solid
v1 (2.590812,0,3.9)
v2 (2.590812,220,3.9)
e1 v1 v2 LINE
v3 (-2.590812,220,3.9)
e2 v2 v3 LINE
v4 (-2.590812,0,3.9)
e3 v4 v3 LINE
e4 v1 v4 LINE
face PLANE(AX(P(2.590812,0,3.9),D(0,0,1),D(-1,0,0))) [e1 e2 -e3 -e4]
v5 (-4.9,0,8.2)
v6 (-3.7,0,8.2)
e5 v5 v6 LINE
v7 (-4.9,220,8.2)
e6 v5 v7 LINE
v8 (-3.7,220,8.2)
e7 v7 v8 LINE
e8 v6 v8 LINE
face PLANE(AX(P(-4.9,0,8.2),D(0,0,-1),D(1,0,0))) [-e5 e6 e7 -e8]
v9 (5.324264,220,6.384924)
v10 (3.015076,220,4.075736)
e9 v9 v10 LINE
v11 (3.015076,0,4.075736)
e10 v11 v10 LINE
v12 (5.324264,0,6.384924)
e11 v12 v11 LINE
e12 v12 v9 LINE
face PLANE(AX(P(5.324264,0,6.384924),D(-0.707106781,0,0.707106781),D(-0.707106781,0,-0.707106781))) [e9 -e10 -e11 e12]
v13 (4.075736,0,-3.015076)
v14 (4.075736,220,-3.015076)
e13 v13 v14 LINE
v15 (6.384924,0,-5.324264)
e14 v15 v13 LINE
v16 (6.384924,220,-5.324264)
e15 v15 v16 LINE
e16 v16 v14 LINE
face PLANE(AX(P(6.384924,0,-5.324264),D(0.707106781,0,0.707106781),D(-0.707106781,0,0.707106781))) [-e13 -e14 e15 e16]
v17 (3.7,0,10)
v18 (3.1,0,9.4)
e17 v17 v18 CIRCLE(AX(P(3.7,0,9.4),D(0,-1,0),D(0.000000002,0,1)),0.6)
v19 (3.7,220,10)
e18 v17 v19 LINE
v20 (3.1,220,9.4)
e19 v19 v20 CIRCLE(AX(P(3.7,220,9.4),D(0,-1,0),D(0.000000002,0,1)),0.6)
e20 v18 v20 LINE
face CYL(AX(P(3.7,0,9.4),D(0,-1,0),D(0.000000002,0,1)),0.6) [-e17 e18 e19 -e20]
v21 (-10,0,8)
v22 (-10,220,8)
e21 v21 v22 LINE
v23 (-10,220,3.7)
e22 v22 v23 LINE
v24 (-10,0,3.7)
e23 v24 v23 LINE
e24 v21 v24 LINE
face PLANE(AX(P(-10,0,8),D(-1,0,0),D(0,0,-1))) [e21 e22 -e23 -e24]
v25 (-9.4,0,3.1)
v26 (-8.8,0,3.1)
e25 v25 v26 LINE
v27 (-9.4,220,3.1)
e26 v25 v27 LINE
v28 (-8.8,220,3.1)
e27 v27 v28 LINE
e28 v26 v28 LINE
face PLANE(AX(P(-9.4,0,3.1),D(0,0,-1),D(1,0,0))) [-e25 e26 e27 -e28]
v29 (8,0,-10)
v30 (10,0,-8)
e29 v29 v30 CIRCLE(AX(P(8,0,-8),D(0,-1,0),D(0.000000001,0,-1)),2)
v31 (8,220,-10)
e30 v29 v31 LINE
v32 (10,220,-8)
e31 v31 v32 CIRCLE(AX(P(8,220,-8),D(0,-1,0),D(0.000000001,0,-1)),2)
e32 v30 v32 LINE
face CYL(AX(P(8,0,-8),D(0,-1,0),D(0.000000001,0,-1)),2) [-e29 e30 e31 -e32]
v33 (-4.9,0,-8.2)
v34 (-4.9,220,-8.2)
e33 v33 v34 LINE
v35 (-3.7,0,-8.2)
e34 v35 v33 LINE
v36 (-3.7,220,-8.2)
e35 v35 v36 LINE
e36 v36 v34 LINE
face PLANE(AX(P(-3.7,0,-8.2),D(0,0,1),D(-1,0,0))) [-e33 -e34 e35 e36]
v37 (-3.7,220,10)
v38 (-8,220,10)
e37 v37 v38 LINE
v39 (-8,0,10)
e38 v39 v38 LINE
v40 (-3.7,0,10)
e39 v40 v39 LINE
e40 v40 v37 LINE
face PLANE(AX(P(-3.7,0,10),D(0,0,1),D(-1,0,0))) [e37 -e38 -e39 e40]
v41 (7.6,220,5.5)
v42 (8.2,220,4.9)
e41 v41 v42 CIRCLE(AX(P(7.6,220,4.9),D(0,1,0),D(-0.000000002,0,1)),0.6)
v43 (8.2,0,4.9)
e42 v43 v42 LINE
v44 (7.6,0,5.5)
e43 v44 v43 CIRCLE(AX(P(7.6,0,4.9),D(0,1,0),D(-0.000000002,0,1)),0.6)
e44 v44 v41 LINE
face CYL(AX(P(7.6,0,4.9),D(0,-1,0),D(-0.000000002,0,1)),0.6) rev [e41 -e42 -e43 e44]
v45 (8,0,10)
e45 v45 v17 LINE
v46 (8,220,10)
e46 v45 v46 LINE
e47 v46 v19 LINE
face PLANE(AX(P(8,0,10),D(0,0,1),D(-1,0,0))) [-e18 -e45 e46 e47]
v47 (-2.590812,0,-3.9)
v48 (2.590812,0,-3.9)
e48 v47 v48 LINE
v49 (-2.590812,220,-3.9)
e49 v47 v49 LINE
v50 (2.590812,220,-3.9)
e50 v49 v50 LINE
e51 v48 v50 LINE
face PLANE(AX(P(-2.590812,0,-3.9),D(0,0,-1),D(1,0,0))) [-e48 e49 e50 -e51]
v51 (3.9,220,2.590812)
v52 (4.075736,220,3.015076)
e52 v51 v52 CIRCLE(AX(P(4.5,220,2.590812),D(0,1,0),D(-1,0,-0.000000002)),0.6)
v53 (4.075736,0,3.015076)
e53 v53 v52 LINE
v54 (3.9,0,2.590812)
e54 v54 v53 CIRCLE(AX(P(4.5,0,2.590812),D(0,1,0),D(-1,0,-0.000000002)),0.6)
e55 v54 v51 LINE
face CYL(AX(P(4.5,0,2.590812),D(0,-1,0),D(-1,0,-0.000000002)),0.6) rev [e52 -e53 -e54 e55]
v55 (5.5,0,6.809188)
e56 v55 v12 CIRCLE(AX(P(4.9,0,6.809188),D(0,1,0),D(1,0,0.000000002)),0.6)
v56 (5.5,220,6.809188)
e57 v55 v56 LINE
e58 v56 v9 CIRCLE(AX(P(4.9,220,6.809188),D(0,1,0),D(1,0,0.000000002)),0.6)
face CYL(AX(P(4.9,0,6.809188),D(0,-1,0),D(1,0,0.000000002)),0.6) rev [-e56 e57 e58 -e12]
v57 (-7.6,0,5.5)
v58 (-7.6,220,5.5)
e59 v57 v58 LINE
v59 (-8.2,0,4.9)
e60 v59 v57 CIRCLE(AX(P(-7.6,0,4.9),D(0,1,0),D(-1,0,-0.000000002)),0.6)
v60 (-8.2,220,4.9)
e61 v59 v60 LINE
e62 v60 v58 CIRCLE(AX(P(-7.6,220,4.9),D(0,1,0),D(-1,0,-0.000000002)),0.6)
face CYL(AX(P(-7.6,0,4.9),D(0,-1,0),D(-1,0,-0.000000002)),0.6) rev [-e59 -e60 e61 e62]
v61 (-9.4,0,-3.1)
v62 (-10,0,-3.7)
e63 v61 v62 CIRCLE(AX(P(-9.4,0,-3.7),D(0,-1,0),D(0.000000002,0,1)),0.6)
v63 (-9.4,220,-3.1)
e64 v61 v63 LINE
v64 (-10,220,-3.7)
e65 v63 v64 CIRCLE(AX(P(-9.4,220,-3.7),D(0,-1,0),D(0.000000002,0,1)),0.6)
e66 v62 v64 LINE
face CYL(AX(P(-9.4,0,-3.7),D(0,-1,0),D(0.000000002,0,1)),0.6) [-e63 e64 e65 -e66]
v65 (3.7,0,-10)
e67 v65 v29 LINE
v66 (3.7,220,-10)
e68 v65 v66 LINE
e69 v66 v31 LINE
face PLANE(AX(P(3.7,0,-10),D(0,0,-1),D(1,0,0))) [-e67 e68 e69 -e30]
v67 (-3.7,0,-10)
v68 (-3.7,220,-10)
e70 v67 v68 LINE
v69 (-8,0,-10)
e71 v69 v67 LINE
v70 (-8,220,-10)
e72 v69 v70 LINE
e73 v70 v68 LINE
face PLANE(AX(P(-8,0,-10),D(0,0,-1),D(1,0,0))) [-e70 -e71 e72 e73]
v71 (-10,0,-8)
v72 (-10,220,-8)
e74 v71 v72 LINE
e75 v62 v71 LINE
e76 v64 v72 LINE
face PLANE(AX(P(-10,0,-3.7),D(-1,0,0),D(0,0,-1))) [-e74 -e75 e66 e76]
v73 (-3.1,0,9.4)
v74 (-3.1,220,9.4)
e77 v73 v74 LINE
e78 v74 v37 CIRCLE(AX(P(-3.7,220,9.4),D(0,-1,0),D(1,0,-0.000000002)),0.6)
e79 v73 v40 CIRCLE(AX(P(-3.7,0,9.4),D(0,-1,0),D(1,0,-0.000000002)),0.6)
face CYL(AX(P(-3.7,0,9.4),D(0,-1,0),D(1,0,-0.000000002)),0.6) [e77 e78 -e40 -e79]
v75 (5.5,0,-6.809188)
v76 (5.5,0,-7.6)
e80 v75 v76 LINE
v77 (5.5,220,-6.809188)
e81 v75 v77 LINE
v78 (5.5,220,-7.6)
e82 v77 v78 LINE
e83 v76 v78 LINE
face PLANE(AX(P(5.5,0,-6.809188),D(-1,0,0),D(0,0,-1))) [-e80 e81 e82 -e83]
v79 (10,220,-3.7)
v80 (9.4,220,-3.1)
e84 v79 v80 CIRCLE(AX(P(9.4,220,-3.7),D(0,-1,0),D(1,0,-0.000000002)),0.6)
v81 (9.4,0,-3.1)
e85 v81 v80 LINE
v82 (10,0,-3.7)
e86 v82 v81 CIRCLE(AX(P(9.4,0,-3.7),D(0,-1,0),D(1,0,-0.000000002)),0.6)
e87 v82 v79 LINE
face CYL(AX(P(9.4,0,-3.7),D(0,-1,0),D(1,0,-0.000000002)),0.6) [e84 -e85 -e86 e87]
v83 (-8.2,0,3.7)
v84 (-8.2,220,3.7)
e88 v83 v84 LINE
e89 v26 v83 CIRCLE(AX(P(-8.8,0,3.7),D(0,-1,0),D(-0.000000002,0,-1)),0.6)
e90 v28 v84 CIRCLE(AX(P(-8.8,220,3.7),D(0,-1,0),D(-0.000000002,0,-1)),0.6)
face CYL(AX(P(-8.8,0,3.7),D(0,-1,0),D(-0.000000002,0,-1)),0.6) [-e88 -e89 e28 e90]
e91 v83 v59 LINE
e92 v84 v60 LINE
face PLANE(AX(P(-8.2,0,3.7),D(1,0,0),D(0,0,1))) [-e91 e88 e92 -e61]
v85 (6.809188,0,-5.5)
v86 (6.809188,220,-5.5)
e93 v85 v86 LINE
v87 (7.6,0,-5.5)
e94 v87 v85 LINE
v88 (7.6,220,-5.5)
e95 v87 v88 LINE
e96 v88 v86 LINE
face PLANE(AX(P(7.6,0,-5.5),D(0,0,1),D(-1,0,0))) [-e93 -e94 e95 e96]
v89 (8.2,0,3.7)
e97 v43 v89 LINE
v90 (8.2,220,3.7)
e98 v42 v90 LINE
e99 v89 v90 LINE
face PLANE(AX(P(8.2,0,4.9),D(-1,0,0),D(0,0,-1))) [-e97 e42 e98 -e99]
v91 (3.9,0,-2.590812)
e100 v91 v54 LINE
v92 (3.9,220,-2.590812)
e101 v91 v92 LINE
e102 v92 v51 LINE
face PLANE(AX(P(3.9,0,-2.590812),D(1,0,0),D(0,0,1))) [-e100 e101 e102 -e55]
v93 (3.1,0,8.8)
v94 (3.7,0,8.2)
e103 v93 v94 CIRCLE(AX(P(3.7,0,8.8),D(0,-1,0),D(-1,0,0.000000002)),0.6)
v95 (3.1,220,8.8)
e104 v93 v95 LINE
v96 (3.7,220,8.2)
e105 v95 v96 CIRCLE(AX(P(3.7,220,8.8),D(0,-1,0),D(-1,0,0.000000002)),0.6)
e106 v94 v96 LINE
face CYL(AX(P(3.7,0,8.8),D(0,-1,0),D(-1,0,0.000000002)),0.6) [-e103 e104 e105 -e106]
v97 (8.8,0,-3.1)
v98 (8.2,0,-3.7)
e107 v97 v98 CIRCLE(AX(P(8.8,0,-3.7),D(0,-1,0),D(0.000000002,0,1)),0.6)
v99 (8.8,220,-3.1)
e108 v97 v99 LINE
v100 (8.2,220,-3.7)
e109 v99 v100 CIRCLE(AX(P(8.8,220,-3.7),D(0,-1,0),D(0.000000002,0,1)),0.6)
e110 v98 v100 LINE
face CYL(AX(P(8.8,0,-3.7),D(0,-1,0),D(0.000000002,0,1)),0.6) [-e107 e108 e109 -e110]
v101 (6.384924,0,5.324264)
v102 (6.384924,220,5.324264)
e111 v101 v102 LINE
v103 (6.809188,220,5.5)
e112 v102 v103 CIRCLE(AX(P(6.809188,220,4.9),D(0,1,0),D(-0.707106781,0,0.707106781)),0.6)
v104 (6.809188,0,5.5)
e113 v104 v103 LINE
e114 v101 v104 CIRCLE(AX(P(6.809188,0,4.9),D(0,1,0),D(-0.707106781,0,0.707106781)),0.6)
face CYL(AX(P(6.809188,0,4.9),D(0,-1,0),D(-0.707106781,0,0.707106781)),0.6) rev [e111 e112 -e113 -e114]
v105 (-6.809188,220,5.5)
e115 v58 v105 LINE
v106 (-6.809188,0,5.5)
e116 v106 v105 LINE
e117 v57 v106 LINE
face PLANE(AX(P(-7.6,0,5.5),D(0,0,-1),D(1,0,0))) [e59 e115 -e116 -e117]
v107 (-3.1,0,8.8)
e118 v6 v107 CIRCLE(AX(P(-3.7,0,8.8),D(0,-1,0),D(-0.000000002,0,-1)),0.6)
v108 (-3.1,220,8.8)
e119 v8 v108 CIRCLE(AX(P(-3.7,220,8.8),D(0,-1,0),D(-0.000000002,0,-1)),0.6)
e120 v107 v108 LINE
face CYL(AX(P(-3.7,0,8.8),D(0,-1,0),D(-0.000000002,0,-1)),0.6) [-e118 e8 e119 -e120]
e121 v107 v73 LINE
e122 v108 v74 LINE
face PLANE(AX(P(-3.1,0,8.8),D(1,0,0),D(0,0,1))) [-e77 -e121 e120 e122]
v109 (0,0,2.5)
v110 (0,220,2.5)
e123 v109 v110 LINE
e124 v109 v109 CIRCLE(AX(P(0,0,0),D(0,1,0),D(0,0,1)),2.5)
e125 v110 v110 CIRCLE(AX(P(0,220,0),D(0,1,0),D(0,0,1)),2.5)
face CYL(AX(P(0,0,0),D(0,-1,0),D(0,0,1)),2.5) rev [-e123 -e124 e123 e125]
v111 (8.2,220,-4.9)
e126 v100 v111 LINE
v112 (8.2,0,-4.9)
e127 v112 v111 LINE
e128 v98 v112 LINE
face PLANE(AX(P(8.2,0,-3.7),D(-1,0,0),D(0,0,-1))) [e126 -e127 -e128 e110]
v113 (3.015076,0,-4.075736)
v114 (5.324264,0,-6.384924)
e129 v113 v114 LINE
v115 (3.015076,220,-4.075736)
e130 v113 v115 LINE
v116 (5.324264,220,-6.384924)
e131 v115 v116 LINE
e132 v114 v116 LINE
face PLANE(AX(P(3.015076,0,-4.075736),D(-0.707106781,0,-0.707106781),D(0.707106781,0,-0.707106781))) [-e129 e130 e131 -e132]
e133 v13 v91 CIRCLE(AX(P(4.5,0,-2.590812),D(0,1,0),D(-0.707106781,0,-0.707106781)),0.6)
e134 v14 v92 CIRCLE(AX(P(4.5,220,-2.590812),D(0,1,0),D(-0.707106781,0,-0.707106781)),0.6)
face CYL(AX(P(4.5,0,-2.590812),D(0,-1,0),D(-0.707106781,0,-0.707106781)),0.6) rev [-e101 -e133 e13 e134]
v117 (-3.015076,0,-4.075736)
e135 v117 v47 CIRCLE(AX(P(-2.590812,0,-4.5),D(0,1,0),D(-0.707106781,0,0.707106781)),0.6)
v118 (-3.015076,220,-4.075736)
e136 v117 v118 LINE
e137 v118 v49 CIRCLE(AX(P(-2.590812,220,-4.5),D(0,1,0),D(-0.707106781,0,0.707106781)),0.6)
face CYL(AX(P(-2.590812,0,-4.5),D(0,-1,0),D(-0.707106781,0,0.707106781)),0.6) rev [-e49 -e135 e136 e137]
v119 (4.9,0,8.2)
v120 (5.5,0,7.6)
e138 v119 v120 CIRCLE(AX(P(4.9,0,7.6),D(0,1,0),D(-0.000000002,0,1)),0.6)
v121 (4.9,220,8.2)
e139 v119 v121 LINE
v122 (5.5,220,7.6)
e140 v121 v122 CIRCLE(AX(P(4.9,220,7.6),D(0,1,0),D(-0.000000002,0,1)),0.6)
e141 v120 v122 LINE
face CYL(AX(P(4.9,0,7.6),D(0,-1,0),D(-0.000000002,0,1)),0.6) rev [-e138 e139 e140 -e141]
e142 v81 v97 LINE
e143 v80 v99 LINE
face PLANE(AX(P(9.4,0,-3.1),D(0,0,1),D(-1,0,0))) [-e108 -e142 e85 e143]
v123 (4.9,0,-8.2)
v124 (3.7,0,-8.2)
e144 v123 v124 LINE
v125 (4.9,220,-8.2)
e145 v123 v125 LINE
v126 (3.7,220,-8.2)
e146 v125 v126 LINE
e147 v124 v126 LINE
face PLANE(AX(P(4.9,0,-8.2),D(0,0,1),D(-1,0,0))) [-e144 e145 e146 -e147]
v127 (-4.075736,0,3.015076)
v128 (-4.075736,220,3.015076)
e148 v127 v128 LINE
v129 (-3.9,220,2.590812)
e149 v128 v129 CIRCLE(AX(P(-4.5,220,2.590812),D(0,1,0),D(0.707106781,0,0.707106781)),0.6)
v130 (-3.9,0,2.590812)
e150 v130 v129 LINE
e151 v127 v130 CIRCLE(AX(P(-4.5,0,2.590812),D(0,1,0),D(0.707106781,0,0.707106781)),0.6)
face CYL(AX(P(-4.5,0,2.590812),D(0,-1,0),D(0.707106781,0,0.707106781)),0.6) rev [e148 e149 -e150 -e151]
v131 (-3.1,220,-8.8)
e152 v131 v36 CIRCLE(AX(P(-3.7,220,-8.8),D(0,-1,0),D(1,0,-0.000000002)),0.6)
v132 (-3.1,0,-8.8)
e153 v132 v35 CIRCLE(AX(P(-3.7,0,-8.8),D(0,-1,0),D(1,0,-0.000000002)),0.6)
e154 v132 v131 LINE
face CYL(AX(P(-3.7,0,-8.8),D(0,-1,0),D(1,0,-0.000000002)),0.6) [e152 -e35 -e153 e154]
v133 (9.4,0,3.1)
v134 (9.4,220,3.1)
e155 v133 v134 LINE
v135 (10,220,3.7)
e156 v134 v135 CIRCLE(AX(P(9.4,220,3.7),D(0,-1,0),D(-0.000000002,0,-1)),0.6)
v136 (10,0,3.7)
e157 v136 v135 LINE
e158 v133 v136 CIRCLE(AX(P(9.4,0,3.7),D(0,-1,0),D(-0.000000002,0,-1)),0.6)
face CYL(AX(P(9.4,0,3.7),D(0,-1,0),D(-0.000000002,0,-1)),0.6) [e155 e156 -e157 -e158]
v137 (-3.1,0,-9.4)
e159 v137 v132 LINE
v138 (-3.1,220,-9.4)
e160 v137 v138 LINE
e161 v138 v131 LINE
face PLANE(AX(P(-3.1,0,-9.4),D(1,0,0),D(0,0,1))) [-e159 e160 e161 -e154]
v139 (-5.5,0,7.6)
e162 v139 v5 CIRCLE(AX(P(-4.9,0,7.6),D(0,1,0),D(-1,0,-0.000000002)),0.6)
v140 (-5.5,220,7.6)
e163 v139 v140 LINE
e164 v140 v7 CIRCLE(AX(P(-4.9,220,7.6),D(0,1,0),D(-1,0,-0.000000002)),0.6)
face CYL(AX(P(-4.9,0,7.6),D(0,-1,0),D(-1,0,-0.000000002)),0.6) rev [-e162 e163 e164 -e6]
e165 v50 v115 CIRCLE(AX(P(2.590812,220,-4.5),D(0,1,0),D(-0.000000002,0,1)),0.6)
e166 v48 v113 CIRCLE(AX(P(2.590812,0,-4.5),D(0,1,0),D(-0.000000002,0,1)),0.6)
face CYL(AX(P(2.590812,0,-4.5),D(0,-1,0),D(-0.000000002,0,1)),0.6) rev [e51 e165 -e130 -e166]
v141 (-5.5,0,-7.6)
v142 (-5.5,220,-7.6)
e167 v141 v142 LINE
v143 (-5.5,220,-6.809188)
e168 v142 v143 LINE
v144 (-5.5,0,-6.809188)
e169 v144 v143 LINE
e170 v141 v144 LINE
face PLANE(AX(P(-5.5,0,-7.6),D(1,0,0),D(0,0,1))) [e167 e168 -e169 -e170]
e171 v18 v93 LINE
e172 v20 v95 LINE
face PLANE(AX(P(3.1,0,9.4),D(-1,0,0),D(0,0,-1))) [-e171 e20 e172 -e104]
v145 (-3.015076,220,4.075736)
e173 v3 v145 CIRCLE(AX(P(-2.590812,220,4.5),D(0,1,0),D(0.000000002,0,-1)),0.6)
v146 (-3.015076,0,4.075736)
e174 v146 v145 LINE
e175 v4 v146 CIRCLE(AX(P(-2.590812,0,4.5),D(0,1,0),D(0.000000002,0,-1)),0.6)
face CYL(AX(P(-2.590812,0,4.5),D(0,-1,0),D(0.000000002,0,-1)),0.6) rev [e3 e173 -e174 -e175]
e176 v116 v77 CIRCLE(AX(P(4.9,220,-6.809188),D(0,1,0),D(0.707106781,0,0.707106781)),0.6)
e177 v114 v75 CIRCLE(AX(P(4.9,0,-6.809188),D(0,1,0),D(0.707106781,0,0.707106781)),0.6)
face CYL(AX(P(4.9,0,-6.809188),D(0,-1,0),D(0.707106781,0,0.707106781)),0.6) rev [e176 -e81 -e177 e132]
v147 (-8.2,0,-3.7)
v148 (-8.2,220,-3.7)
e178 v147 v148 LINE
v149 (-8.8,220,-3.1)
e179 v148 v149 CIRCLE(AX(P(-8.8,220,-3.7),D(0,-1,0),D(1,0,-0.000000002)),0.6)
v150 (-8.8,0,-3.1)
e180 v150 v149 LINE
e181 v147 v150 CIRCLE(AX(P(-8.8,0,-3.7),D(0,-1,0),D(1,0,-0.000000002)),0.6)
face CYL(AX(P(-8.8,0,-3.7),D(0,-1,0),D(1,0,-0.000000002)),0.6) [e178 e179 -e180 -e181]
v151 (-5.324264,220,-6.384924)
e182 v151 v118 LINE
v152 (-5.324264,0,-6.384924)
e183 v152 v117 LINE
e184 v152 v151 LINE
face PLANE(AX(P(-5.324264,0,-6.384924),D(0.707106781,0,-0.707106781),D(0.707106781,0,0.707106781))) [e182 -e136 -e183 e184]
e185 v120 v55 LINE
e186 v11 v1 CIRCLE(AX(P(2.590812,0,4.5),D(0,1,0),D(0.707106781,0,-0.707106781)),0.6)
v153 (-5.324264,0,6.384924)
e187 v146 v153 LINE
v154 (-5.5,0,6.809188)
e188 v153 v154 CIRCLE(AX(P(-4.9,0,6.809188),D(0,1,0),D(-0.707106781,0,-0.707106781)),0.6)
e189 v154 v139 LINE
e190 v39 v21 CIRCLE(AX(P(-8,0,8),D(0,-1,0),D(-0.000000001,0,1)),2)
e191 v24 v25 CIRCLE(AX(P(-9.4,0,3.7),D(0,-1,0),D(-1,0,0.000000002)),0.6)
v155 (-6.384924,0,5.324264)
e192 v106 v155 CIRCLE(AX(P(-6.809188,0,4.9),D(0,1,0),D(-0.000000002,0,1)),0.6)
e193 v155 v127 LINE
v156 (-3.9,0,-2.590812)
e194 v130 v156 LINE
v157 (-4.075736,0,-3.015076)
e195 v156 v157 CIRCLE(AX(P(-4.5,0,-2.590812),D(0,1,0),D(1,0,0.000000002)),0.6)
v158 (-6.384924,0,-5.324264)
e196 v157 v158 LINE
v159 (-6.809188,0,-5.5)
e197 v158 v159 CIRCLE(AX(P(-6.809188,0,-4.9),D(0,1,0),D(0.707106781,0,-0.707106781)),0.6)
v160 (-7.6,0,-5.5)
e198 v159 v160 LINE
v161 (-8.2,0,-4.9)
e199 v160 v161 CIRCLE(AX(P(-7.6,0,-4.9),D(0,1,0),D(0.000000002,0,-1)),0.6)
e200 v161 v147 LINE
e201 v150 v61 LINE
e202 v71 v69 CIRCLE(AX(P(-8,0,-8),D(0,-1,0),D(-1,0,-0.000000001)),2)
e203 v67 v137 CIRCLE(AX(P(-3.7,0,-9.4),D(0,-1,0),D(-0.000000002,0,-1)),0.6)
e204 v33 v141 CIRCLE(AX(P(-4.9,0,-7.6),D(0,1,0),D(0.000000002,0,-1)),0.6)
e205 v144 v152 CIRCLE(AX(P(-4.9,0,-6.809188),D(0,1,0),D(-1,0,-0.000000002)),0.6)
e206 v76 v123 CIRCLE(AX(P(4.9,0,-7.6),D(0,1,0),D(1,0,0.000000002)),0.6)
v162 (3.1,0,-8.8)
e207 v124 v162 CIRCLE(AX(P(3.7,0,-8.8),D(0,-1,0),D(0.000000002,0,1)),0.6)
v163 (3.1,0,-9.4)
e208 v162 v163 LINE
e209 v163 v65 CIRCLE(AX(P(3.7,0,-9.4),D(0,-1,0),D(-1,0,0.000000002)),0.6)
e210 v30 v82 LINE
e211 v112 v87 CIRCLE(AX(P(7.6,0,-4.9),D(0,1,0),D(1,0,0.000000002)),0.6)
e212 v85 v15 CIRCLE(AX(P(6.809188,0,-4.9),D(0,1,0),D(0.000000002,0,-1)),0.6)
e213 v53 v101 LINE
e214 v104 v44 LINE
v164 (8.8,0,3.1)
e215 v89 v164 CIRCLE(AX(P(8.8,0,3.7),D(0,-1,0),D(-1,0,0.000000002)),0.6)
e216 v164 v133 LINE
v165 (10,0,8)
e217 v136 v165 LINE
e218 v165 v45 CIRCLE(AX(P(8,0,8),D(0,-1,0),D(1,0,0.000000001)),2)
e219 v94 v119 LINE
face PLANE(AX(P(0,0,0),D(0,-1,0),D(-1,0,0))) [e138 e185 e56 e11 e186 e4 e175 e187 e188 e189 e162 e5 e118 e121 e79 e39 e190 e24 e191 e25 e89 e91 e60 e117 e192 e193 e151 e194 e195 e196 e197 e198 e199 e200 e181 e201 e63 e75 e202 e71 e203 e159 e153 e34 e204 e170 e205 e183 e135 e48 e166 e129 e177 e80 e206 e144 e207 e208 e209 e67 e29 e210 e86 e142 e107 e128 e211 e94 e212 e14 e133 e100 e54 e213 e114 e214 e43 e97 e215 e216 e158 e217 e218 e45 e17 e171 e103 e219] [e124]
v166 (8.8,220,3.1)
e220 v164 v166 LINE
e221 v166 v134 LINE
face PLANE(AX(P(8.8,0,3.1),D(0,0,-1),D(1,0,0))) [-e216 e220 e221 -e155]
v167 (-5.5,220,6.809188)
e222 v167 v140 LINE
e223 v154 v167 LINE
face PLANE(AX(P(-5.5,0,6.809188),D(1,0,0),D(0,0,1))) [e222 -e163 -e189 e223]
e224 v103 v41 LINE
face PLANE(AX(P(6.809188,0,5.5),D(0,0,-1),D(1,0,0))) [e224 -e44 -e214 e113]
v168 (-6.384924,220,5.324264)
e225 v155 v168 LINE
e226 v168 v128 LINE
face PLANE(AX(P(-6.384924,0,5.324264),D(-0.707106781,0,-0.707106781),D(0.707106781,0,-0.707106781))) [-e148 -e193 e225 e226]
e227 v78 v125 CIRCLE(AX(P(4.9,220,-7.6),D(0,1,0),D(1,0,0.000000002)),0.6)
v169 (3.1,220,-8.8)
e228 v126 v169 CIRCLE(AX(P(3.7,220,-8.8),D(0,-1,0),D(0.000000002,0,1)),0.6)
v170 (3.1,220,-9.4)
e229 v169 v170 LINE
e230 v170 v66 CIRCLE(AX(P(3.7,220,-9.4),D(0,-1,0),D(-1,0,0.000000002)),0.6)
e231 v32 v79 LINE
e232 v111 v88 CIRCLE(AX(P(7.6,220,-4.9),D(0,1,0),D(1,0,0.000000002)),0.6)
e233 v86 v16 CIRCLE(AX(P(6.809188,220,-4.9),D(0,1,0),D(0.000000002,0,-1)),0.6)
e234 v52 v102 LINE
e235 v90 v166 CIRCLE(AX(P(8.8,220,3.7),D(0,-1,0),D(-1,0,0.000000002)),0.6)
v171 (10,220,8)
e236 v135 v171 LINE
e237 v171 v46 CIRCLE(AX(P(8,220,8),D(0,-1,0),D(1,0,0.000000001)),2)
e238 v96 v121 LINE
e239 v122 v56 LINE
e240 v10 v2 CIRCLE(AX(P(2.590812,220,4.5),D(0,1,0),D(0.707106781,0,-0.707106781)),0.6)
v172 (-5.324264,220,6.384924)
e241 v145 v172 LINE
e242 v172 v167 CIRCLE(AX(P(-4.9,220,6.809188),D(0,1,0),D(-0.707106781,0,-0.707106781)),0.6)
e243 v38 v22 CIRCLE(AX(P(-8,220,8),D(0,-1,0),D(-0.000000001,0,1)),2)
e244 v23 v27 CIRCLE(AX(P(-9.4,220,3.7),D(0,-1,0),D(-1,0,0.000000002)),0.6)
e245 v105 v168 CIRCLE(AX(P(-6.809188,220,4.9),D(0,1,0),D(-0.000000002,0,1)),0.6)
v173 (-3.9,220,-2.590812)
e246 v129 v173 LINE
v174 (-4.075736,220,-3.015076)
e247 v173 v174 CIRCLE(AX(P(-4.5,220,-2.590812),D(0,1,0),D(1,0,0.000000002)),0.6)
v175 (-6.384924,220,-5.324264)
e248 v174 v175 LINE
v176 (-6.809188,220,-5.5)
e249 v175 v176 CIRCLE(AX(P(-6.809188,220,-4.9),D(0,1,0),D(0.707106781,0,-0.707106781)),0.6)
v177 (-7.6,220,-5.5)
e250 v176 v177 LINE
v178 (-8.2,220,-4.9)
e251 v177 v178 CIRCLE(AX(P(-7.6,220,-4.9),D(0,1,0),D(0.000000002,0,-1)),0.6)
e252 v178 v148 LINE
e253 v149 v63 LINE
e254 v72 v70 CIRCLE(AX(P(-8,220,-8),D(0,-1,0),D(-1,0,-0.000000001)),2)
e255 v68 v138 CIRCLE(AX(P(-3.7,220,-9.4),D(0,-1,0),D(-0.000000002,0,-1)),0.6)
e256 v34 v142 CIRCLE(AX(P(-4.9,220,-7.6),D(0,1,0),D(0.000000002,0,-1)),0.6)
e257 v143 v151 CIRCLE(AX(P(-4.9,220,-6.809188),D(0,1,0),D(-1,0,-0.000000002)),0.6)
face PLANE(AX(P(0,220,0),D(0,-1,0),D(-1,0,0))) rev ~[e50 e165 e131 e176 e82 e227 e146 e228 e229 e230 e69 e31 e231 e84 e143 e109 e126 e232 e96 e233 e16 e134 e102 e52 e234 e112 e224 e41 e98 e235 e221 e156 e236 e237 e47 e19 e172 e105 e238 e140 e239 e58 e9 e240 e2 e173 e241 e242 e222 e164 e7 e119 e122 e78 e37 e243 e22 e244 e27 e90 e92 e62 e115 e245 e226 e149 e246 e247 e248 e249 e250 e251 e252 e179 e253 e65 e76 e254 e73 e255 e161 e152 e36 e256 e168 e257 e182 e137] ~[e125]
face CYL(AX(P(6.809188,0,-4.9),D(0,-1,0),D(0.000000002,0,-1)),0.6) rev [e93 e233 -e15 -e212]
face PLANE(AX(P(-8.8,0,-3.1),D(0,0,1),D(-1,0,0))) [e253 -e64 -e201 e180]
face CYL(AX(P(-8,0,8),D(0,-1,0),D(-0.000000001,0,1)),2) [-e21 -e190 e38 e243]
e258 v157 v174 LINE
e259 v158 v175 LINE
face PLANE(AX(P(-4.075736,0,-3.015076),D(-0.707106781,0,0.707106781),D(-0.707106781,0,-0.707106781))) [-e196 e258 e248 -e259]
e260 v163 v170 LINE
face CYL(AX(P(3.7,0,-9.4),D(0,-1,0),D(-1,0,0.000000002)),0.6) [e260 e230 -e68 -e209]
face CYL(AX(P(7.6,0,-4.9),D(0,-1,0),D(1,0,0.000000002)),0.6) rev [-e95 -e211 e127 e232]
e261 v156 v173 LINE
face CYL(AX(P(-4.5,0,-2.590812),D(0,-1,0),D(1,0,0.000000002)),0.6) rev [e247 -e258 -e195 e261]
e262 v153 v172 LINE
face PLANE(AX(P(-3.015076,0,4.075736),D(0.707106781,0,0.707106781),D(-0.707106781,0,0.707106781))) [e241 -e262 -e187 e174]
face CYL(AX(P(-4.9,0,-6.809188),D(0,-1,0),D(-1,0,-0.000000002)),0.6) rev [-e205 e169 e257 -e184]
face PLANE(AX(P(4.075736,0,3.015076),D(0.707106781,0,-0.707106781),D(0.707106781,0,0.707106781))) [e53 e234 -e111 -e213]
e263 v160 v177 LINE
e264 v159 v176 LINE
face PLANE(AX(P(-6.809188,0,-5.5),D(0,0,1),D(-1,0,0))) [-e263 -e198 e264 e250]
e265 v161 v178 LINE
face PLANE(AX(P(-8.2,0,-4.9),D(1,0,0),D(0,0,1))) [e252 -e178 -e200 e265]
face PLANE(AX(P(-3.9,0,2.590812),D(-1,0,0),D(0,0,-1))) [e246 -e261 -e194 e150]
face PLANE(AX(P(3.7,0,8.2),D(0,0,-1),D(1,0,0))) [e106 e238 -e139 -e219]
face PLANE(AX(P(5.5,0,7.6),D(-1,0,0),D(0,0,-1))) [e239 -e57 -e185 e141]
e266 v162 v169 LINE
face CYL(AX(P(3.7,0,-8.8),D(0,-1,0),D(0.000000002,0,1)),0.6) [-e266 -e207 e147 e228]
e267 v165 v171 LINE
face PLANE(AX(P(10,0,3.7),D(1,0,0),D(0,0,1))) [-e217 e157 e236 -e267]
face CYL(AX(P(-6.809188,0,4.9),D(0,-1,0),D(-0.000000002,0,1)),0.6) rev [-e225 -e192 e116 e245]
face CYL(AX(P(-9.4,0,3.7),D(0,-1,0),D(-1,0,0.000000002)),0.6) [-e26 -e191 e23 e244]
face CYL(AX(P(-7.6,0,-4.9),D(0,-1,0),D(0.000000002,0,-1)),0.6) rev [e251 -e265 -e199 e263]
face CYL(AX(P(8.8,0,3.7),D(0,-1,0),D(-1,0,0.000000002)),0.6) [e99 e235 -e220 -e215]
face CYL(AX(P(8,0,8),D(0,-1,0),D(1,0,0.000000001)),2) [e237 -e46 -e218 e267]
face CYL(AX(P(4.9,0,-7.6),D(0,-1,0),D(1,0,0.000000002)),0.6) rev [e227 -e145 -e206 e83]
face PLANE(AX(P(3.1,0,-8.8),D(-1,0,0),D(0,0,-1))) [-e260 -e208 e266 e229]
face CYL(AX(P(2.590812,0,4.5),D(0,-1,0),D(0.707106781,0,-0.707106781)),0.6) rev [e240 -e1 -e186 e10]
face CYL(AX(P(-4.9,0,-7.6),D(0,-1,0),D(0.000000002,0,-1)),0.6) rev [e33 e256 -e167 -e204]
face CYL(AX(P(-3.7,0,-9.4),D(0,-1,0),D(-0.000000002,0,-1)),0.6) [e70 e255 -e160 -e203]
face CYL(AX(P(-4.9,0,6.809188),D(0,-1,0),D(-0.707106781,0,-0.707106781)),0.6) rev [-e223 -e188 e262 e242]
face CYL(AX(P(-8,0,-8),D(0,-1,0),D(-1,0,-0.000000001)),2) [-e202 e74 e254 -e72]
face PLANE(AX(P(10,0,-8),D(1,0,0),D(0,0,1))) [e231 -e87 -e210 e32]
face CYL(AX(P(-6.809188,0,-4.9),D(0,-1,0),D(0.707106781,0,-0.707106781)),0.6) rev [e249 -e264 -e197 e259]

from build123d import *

# Parameters (mm, degrees)
SKETCH_1_R      = 2.5
EXTRUDE_1_DEPTH = 220


with BuildPart() as part:
    # 草图1 → 凸台-拉伸1 (new body)
    with BuildSketch(Plane(origin=(0, 0, 0), x_dir=(1, 0, 0), z_dir=(0, 1, 0))):
        with BuildLine():
            Line((3.1, 8.8), (3.1, 9.4))
            ThreePointArc((3.1, 9.4), (3.275735931, 9.824264069), (3.7, 10))
            Line((3.7, 10), (8, 10))
            ThreePointArc((8, 10), (9.414213562, 9.414213562), (10, 8))
            Line((10, 8), (10, 3.7))
            ThreePointArc((10, 3.7), (9.824264069, 3.275735931), (9.4, 3.1))
            Line((9.4, 3.1), (8.8, 3.1))
            ThreePointArc((8.8, 3.1), (8.375735931, 3.275735931), (8.2, 3.7))
            Line((8.2, 3.7), (8.2, 4.9))
            ThreePointArc((8.2, 4.9), (8.024264069, 5.324264069), (7.6, 5.5))
            Line((7.6, 5.5), (6.809188309, 5.5))
            ThreePointArc((6.809188309, 5.5), (6.57957825, 5.45432772), (6.38492424, 5.324264069))
            Line((6.38492424, 5.324264069), (4.075735931, 3.01507576))
            ThreePointArc((4.075735931, 3.01507576), (3.94567228, 2.82042175), (3.9, 2.590811691))
            Line((3.9, 2.590811691), (3.9, 0))
            Line((3.9, 0), (3.9, -2.590811691))
            ThreePointArc((3.9, -2.590811691), (3.94567228, -2.82042175), (4.075735931, -3.01507576))
            Line((4.075735931, -3.01507576), (6.38492424, -5.324264069))
            ThreePointArc((6.38492424, -5.324264069), (6.57957825, -5.45432772), (6.809188309, -5.5))
            Line((6.809188309, -5.5), (7.6, -5.5))
            ThreePointArc((7.6, -5.5), (8.024264069, -5.324264069), (8.2, -4.9))
            Line((8.2, -4.9), (8.2, -3.7))
            ThreePointArc((8.2, -3.7), (8.375735931, -3.275735931), (8.8, -3.1))
            Line((8.8, -3.1), (9.4, -3.1))
            ThreePointArc((9.4, -3.1), (9.824264069, -3.275735931), (10, -3.7))
            Line((10, -3.7), (10, -8))
            ThreePointArc((10, -8), (9.414213562, -9.414213562), (8, -10))
            Line((8, -10), (3.7, -10))
            ThreePointArc((3.7, -10), (3.275735931, -9.824264069), (3.1, -9.4))
            Line((3.1, -9.4), (3.1, -8.8))
            ThreePointArc((3.1, -8.8), (3.275735931, -8.375735931), (3.7, -8.2))
            Line((3.7, -8.2), (4.9, -8.2))
            ThreePointArc((4.9, -8.2), (5.324264069, -8.024264069), (5.5, -7.6))
            Line((5.5, -7.6), (5.5, -6.809188309))
            ThreePointArc((5.5, -6.809188309), (5.45432772, -6.57957825), (5.324264069, -6.38492424))
            Line((5.324264069, -6.38492424), (3.01507576, -4.075735931))
            ThreePointArc((3.01507576, -4.075735931), (2.82042175, -3.94567228), (2.590811691, -3.9))
            Line((2.590811691, -3.9), (0, -3.9))
            Line((0, -3.9), (-2.590811691, -3.9))
            ThreePointArc((-2.590811691, -3.9), (-2.82042175, -3.94567228), (-3.01507576, -4.075735931))
            Line((-3.01507576, -4.075735931), (-5.324264069, -6.38492424))
            ThreePointArc((-5.324264069, -6.38492424), (-5.45432772, -6.57957825), (-5.5, -6.809188309))
            Line((-5.5, -6.809188309), (-5.5, -7.6))
            ThreePointArc((-5.5, -7.6), (-5.324264069, -8.024264069), (-4.9, -8.2))
            Line((-4.9, -8.2), (-3.7, -8.2))
            ThreePointArc((-3.7, -8.2), (-3.275735931, -8.375735931), (-3.1, -8.8))
            Line((-3.1, -8.8), (-3.1, -9.4))
            ThreePointArc((-3.1, -9.4), (-3.275735931, -9.824264069), (-3.7, -10))
            Line((-3.7, -10), (-8, -10))
            ThreePointArc((-8, -10), (-9.414213562, -9.414213562), (-10, -8))
            Line((-10, -8), (-10, -3.7))
            ThreePointArc((-10, -3.7), (-9.824264069, -3.275735931), (-9.4, -3.1))
            Line((-9.4, -3.1), (-8.8, -3.1))
            ThreePointArc((-8.8, -3.1), (-8.375735931, -3.275735931), (-8.2, -3.7))
            Line((-8.2, -3.7), (-8.2, -4.9))
            ThreePointArc((-8.2, -4.9), (-8.024264069, -5.324264069), (-7.6, -5.5))
            Line((-7.6, -5.5), (-6.809188309, -5.5))
            ThreePointArc((-6.809188309, -5.5), (-6.57957825, -5.45432772), (-6.38492424, -5.324264069))
            Line((-6.38492424, -5.324264069), (-4.075735931, -3.01507576))
            ThreePointArc((-4.075735931, -3.01507576), (-3.94567228, -2.82042175), (-3.9, -2.590811691))
            Line((-3.9, -2.590811691), (-3.9, 0))
            Line((-3.9, 0), (-3.9, 2.590811691))
            ThreePointArc((-3.9, 2.590811691), (-3.94567228, 2.82042175), (-4.075735931, 3.01507576))
            Line((-4.075735931, 3.01507576), (-6.38492424, 5.324264069))
            ThreePointArc((-6.38492424, 5.324264069), (-6.57957825, 5.45432772), (-6.809188309, 5.5))
            Line((-6.809188309, 5.5), (-7.6, 5.5))
            ThreePointArc((-7.6, 5.5), (-8.024264069, 5.324264069), (-8.2, 4.9))
            Line((-8.2, 4.9), (-8.2, 3.7))
            ThreePointArc((-8.2, 3.7), (-8.375735931, 3.275735931), (-8.8, 3.1))
            Line((-8.8, 3.1), (-9.4, 3.1))
            ThreePointArc((-9.4, 3.1), (-9.824264069, 3.275735931), (-10, 3.7))
            Line((-10, 3.7), (-10, 8))
            ThreePointArc((-10, 8), (-9.414213562, 9.414213562), (-8, 10))
            Line((-8, 10), (-3.7, 10))
            ThreePointArc((-3.7, 10), (-3.275735931, 9.824264069), (-3.1, 9.4))
            Line((-3.1, 9.4), (-3.1, 8.8))
            ThreePointArc((-3.1, 8.8), (-3.275735931, 8.375735931), (-3.7, 8.2))
            Line((-3.7, 8.2), (-4.9, 8.2))
            ThreePointArc((-4.9, 8.2), (-5.324264069, 8.024264069), (-5.5, 7.6))
            Line((-5.5, 7.6), (-5.5, 6.809188309))
            ThreePointArc((-5.5, 6.809188309), (-5.45432772, 6.57957825), (-5.324264069, 6.38492424))
            Line((-5.324264069, 6.38492424), (-3.01507576, 4.075735931))
            ThreePointArc((-3.01507576, 4.075735931), (-2.82042175, 3.94567228), (-2.590811691, 3.9))
            Line((-2.590811691, 3.9), (0, 3.9))
            Line((0, 3.9), (2.590811691, 3.9))
            ThreePointArc((2.590811691, 3.9), (2.82042175, 3.94567228), (3.01507576, 4.075735931))
            Line((3.01507576, 4.075735931), (5.324264069, 6.38492424))
            ThreePointArc((5.324264069, 6.38492424), (5.45432772, 6.57957825), (5.5, 6.809188309))
            Line((5.5, 6.809188309), (5.5, 7.6))
            ThreePointArc((5.5, 7.6), (5.324264069, 8.024264069), (4.9, 8.2))
            Line((4.9, 8.2), (3.7, 8.2))
            ThreePointArc((3.7, 8.2), (3.275735931, 8.375735931), (3.1, 8.8))
        make_face()
        with Locations(Location((0, 0, 0), (0, 0, 270))):
            Circle(SKETCH_1_R, mode=Mode.SUBTRACT)
    extrude(amount=EXTRUDE_1_DEPTH)


solid = part.part
